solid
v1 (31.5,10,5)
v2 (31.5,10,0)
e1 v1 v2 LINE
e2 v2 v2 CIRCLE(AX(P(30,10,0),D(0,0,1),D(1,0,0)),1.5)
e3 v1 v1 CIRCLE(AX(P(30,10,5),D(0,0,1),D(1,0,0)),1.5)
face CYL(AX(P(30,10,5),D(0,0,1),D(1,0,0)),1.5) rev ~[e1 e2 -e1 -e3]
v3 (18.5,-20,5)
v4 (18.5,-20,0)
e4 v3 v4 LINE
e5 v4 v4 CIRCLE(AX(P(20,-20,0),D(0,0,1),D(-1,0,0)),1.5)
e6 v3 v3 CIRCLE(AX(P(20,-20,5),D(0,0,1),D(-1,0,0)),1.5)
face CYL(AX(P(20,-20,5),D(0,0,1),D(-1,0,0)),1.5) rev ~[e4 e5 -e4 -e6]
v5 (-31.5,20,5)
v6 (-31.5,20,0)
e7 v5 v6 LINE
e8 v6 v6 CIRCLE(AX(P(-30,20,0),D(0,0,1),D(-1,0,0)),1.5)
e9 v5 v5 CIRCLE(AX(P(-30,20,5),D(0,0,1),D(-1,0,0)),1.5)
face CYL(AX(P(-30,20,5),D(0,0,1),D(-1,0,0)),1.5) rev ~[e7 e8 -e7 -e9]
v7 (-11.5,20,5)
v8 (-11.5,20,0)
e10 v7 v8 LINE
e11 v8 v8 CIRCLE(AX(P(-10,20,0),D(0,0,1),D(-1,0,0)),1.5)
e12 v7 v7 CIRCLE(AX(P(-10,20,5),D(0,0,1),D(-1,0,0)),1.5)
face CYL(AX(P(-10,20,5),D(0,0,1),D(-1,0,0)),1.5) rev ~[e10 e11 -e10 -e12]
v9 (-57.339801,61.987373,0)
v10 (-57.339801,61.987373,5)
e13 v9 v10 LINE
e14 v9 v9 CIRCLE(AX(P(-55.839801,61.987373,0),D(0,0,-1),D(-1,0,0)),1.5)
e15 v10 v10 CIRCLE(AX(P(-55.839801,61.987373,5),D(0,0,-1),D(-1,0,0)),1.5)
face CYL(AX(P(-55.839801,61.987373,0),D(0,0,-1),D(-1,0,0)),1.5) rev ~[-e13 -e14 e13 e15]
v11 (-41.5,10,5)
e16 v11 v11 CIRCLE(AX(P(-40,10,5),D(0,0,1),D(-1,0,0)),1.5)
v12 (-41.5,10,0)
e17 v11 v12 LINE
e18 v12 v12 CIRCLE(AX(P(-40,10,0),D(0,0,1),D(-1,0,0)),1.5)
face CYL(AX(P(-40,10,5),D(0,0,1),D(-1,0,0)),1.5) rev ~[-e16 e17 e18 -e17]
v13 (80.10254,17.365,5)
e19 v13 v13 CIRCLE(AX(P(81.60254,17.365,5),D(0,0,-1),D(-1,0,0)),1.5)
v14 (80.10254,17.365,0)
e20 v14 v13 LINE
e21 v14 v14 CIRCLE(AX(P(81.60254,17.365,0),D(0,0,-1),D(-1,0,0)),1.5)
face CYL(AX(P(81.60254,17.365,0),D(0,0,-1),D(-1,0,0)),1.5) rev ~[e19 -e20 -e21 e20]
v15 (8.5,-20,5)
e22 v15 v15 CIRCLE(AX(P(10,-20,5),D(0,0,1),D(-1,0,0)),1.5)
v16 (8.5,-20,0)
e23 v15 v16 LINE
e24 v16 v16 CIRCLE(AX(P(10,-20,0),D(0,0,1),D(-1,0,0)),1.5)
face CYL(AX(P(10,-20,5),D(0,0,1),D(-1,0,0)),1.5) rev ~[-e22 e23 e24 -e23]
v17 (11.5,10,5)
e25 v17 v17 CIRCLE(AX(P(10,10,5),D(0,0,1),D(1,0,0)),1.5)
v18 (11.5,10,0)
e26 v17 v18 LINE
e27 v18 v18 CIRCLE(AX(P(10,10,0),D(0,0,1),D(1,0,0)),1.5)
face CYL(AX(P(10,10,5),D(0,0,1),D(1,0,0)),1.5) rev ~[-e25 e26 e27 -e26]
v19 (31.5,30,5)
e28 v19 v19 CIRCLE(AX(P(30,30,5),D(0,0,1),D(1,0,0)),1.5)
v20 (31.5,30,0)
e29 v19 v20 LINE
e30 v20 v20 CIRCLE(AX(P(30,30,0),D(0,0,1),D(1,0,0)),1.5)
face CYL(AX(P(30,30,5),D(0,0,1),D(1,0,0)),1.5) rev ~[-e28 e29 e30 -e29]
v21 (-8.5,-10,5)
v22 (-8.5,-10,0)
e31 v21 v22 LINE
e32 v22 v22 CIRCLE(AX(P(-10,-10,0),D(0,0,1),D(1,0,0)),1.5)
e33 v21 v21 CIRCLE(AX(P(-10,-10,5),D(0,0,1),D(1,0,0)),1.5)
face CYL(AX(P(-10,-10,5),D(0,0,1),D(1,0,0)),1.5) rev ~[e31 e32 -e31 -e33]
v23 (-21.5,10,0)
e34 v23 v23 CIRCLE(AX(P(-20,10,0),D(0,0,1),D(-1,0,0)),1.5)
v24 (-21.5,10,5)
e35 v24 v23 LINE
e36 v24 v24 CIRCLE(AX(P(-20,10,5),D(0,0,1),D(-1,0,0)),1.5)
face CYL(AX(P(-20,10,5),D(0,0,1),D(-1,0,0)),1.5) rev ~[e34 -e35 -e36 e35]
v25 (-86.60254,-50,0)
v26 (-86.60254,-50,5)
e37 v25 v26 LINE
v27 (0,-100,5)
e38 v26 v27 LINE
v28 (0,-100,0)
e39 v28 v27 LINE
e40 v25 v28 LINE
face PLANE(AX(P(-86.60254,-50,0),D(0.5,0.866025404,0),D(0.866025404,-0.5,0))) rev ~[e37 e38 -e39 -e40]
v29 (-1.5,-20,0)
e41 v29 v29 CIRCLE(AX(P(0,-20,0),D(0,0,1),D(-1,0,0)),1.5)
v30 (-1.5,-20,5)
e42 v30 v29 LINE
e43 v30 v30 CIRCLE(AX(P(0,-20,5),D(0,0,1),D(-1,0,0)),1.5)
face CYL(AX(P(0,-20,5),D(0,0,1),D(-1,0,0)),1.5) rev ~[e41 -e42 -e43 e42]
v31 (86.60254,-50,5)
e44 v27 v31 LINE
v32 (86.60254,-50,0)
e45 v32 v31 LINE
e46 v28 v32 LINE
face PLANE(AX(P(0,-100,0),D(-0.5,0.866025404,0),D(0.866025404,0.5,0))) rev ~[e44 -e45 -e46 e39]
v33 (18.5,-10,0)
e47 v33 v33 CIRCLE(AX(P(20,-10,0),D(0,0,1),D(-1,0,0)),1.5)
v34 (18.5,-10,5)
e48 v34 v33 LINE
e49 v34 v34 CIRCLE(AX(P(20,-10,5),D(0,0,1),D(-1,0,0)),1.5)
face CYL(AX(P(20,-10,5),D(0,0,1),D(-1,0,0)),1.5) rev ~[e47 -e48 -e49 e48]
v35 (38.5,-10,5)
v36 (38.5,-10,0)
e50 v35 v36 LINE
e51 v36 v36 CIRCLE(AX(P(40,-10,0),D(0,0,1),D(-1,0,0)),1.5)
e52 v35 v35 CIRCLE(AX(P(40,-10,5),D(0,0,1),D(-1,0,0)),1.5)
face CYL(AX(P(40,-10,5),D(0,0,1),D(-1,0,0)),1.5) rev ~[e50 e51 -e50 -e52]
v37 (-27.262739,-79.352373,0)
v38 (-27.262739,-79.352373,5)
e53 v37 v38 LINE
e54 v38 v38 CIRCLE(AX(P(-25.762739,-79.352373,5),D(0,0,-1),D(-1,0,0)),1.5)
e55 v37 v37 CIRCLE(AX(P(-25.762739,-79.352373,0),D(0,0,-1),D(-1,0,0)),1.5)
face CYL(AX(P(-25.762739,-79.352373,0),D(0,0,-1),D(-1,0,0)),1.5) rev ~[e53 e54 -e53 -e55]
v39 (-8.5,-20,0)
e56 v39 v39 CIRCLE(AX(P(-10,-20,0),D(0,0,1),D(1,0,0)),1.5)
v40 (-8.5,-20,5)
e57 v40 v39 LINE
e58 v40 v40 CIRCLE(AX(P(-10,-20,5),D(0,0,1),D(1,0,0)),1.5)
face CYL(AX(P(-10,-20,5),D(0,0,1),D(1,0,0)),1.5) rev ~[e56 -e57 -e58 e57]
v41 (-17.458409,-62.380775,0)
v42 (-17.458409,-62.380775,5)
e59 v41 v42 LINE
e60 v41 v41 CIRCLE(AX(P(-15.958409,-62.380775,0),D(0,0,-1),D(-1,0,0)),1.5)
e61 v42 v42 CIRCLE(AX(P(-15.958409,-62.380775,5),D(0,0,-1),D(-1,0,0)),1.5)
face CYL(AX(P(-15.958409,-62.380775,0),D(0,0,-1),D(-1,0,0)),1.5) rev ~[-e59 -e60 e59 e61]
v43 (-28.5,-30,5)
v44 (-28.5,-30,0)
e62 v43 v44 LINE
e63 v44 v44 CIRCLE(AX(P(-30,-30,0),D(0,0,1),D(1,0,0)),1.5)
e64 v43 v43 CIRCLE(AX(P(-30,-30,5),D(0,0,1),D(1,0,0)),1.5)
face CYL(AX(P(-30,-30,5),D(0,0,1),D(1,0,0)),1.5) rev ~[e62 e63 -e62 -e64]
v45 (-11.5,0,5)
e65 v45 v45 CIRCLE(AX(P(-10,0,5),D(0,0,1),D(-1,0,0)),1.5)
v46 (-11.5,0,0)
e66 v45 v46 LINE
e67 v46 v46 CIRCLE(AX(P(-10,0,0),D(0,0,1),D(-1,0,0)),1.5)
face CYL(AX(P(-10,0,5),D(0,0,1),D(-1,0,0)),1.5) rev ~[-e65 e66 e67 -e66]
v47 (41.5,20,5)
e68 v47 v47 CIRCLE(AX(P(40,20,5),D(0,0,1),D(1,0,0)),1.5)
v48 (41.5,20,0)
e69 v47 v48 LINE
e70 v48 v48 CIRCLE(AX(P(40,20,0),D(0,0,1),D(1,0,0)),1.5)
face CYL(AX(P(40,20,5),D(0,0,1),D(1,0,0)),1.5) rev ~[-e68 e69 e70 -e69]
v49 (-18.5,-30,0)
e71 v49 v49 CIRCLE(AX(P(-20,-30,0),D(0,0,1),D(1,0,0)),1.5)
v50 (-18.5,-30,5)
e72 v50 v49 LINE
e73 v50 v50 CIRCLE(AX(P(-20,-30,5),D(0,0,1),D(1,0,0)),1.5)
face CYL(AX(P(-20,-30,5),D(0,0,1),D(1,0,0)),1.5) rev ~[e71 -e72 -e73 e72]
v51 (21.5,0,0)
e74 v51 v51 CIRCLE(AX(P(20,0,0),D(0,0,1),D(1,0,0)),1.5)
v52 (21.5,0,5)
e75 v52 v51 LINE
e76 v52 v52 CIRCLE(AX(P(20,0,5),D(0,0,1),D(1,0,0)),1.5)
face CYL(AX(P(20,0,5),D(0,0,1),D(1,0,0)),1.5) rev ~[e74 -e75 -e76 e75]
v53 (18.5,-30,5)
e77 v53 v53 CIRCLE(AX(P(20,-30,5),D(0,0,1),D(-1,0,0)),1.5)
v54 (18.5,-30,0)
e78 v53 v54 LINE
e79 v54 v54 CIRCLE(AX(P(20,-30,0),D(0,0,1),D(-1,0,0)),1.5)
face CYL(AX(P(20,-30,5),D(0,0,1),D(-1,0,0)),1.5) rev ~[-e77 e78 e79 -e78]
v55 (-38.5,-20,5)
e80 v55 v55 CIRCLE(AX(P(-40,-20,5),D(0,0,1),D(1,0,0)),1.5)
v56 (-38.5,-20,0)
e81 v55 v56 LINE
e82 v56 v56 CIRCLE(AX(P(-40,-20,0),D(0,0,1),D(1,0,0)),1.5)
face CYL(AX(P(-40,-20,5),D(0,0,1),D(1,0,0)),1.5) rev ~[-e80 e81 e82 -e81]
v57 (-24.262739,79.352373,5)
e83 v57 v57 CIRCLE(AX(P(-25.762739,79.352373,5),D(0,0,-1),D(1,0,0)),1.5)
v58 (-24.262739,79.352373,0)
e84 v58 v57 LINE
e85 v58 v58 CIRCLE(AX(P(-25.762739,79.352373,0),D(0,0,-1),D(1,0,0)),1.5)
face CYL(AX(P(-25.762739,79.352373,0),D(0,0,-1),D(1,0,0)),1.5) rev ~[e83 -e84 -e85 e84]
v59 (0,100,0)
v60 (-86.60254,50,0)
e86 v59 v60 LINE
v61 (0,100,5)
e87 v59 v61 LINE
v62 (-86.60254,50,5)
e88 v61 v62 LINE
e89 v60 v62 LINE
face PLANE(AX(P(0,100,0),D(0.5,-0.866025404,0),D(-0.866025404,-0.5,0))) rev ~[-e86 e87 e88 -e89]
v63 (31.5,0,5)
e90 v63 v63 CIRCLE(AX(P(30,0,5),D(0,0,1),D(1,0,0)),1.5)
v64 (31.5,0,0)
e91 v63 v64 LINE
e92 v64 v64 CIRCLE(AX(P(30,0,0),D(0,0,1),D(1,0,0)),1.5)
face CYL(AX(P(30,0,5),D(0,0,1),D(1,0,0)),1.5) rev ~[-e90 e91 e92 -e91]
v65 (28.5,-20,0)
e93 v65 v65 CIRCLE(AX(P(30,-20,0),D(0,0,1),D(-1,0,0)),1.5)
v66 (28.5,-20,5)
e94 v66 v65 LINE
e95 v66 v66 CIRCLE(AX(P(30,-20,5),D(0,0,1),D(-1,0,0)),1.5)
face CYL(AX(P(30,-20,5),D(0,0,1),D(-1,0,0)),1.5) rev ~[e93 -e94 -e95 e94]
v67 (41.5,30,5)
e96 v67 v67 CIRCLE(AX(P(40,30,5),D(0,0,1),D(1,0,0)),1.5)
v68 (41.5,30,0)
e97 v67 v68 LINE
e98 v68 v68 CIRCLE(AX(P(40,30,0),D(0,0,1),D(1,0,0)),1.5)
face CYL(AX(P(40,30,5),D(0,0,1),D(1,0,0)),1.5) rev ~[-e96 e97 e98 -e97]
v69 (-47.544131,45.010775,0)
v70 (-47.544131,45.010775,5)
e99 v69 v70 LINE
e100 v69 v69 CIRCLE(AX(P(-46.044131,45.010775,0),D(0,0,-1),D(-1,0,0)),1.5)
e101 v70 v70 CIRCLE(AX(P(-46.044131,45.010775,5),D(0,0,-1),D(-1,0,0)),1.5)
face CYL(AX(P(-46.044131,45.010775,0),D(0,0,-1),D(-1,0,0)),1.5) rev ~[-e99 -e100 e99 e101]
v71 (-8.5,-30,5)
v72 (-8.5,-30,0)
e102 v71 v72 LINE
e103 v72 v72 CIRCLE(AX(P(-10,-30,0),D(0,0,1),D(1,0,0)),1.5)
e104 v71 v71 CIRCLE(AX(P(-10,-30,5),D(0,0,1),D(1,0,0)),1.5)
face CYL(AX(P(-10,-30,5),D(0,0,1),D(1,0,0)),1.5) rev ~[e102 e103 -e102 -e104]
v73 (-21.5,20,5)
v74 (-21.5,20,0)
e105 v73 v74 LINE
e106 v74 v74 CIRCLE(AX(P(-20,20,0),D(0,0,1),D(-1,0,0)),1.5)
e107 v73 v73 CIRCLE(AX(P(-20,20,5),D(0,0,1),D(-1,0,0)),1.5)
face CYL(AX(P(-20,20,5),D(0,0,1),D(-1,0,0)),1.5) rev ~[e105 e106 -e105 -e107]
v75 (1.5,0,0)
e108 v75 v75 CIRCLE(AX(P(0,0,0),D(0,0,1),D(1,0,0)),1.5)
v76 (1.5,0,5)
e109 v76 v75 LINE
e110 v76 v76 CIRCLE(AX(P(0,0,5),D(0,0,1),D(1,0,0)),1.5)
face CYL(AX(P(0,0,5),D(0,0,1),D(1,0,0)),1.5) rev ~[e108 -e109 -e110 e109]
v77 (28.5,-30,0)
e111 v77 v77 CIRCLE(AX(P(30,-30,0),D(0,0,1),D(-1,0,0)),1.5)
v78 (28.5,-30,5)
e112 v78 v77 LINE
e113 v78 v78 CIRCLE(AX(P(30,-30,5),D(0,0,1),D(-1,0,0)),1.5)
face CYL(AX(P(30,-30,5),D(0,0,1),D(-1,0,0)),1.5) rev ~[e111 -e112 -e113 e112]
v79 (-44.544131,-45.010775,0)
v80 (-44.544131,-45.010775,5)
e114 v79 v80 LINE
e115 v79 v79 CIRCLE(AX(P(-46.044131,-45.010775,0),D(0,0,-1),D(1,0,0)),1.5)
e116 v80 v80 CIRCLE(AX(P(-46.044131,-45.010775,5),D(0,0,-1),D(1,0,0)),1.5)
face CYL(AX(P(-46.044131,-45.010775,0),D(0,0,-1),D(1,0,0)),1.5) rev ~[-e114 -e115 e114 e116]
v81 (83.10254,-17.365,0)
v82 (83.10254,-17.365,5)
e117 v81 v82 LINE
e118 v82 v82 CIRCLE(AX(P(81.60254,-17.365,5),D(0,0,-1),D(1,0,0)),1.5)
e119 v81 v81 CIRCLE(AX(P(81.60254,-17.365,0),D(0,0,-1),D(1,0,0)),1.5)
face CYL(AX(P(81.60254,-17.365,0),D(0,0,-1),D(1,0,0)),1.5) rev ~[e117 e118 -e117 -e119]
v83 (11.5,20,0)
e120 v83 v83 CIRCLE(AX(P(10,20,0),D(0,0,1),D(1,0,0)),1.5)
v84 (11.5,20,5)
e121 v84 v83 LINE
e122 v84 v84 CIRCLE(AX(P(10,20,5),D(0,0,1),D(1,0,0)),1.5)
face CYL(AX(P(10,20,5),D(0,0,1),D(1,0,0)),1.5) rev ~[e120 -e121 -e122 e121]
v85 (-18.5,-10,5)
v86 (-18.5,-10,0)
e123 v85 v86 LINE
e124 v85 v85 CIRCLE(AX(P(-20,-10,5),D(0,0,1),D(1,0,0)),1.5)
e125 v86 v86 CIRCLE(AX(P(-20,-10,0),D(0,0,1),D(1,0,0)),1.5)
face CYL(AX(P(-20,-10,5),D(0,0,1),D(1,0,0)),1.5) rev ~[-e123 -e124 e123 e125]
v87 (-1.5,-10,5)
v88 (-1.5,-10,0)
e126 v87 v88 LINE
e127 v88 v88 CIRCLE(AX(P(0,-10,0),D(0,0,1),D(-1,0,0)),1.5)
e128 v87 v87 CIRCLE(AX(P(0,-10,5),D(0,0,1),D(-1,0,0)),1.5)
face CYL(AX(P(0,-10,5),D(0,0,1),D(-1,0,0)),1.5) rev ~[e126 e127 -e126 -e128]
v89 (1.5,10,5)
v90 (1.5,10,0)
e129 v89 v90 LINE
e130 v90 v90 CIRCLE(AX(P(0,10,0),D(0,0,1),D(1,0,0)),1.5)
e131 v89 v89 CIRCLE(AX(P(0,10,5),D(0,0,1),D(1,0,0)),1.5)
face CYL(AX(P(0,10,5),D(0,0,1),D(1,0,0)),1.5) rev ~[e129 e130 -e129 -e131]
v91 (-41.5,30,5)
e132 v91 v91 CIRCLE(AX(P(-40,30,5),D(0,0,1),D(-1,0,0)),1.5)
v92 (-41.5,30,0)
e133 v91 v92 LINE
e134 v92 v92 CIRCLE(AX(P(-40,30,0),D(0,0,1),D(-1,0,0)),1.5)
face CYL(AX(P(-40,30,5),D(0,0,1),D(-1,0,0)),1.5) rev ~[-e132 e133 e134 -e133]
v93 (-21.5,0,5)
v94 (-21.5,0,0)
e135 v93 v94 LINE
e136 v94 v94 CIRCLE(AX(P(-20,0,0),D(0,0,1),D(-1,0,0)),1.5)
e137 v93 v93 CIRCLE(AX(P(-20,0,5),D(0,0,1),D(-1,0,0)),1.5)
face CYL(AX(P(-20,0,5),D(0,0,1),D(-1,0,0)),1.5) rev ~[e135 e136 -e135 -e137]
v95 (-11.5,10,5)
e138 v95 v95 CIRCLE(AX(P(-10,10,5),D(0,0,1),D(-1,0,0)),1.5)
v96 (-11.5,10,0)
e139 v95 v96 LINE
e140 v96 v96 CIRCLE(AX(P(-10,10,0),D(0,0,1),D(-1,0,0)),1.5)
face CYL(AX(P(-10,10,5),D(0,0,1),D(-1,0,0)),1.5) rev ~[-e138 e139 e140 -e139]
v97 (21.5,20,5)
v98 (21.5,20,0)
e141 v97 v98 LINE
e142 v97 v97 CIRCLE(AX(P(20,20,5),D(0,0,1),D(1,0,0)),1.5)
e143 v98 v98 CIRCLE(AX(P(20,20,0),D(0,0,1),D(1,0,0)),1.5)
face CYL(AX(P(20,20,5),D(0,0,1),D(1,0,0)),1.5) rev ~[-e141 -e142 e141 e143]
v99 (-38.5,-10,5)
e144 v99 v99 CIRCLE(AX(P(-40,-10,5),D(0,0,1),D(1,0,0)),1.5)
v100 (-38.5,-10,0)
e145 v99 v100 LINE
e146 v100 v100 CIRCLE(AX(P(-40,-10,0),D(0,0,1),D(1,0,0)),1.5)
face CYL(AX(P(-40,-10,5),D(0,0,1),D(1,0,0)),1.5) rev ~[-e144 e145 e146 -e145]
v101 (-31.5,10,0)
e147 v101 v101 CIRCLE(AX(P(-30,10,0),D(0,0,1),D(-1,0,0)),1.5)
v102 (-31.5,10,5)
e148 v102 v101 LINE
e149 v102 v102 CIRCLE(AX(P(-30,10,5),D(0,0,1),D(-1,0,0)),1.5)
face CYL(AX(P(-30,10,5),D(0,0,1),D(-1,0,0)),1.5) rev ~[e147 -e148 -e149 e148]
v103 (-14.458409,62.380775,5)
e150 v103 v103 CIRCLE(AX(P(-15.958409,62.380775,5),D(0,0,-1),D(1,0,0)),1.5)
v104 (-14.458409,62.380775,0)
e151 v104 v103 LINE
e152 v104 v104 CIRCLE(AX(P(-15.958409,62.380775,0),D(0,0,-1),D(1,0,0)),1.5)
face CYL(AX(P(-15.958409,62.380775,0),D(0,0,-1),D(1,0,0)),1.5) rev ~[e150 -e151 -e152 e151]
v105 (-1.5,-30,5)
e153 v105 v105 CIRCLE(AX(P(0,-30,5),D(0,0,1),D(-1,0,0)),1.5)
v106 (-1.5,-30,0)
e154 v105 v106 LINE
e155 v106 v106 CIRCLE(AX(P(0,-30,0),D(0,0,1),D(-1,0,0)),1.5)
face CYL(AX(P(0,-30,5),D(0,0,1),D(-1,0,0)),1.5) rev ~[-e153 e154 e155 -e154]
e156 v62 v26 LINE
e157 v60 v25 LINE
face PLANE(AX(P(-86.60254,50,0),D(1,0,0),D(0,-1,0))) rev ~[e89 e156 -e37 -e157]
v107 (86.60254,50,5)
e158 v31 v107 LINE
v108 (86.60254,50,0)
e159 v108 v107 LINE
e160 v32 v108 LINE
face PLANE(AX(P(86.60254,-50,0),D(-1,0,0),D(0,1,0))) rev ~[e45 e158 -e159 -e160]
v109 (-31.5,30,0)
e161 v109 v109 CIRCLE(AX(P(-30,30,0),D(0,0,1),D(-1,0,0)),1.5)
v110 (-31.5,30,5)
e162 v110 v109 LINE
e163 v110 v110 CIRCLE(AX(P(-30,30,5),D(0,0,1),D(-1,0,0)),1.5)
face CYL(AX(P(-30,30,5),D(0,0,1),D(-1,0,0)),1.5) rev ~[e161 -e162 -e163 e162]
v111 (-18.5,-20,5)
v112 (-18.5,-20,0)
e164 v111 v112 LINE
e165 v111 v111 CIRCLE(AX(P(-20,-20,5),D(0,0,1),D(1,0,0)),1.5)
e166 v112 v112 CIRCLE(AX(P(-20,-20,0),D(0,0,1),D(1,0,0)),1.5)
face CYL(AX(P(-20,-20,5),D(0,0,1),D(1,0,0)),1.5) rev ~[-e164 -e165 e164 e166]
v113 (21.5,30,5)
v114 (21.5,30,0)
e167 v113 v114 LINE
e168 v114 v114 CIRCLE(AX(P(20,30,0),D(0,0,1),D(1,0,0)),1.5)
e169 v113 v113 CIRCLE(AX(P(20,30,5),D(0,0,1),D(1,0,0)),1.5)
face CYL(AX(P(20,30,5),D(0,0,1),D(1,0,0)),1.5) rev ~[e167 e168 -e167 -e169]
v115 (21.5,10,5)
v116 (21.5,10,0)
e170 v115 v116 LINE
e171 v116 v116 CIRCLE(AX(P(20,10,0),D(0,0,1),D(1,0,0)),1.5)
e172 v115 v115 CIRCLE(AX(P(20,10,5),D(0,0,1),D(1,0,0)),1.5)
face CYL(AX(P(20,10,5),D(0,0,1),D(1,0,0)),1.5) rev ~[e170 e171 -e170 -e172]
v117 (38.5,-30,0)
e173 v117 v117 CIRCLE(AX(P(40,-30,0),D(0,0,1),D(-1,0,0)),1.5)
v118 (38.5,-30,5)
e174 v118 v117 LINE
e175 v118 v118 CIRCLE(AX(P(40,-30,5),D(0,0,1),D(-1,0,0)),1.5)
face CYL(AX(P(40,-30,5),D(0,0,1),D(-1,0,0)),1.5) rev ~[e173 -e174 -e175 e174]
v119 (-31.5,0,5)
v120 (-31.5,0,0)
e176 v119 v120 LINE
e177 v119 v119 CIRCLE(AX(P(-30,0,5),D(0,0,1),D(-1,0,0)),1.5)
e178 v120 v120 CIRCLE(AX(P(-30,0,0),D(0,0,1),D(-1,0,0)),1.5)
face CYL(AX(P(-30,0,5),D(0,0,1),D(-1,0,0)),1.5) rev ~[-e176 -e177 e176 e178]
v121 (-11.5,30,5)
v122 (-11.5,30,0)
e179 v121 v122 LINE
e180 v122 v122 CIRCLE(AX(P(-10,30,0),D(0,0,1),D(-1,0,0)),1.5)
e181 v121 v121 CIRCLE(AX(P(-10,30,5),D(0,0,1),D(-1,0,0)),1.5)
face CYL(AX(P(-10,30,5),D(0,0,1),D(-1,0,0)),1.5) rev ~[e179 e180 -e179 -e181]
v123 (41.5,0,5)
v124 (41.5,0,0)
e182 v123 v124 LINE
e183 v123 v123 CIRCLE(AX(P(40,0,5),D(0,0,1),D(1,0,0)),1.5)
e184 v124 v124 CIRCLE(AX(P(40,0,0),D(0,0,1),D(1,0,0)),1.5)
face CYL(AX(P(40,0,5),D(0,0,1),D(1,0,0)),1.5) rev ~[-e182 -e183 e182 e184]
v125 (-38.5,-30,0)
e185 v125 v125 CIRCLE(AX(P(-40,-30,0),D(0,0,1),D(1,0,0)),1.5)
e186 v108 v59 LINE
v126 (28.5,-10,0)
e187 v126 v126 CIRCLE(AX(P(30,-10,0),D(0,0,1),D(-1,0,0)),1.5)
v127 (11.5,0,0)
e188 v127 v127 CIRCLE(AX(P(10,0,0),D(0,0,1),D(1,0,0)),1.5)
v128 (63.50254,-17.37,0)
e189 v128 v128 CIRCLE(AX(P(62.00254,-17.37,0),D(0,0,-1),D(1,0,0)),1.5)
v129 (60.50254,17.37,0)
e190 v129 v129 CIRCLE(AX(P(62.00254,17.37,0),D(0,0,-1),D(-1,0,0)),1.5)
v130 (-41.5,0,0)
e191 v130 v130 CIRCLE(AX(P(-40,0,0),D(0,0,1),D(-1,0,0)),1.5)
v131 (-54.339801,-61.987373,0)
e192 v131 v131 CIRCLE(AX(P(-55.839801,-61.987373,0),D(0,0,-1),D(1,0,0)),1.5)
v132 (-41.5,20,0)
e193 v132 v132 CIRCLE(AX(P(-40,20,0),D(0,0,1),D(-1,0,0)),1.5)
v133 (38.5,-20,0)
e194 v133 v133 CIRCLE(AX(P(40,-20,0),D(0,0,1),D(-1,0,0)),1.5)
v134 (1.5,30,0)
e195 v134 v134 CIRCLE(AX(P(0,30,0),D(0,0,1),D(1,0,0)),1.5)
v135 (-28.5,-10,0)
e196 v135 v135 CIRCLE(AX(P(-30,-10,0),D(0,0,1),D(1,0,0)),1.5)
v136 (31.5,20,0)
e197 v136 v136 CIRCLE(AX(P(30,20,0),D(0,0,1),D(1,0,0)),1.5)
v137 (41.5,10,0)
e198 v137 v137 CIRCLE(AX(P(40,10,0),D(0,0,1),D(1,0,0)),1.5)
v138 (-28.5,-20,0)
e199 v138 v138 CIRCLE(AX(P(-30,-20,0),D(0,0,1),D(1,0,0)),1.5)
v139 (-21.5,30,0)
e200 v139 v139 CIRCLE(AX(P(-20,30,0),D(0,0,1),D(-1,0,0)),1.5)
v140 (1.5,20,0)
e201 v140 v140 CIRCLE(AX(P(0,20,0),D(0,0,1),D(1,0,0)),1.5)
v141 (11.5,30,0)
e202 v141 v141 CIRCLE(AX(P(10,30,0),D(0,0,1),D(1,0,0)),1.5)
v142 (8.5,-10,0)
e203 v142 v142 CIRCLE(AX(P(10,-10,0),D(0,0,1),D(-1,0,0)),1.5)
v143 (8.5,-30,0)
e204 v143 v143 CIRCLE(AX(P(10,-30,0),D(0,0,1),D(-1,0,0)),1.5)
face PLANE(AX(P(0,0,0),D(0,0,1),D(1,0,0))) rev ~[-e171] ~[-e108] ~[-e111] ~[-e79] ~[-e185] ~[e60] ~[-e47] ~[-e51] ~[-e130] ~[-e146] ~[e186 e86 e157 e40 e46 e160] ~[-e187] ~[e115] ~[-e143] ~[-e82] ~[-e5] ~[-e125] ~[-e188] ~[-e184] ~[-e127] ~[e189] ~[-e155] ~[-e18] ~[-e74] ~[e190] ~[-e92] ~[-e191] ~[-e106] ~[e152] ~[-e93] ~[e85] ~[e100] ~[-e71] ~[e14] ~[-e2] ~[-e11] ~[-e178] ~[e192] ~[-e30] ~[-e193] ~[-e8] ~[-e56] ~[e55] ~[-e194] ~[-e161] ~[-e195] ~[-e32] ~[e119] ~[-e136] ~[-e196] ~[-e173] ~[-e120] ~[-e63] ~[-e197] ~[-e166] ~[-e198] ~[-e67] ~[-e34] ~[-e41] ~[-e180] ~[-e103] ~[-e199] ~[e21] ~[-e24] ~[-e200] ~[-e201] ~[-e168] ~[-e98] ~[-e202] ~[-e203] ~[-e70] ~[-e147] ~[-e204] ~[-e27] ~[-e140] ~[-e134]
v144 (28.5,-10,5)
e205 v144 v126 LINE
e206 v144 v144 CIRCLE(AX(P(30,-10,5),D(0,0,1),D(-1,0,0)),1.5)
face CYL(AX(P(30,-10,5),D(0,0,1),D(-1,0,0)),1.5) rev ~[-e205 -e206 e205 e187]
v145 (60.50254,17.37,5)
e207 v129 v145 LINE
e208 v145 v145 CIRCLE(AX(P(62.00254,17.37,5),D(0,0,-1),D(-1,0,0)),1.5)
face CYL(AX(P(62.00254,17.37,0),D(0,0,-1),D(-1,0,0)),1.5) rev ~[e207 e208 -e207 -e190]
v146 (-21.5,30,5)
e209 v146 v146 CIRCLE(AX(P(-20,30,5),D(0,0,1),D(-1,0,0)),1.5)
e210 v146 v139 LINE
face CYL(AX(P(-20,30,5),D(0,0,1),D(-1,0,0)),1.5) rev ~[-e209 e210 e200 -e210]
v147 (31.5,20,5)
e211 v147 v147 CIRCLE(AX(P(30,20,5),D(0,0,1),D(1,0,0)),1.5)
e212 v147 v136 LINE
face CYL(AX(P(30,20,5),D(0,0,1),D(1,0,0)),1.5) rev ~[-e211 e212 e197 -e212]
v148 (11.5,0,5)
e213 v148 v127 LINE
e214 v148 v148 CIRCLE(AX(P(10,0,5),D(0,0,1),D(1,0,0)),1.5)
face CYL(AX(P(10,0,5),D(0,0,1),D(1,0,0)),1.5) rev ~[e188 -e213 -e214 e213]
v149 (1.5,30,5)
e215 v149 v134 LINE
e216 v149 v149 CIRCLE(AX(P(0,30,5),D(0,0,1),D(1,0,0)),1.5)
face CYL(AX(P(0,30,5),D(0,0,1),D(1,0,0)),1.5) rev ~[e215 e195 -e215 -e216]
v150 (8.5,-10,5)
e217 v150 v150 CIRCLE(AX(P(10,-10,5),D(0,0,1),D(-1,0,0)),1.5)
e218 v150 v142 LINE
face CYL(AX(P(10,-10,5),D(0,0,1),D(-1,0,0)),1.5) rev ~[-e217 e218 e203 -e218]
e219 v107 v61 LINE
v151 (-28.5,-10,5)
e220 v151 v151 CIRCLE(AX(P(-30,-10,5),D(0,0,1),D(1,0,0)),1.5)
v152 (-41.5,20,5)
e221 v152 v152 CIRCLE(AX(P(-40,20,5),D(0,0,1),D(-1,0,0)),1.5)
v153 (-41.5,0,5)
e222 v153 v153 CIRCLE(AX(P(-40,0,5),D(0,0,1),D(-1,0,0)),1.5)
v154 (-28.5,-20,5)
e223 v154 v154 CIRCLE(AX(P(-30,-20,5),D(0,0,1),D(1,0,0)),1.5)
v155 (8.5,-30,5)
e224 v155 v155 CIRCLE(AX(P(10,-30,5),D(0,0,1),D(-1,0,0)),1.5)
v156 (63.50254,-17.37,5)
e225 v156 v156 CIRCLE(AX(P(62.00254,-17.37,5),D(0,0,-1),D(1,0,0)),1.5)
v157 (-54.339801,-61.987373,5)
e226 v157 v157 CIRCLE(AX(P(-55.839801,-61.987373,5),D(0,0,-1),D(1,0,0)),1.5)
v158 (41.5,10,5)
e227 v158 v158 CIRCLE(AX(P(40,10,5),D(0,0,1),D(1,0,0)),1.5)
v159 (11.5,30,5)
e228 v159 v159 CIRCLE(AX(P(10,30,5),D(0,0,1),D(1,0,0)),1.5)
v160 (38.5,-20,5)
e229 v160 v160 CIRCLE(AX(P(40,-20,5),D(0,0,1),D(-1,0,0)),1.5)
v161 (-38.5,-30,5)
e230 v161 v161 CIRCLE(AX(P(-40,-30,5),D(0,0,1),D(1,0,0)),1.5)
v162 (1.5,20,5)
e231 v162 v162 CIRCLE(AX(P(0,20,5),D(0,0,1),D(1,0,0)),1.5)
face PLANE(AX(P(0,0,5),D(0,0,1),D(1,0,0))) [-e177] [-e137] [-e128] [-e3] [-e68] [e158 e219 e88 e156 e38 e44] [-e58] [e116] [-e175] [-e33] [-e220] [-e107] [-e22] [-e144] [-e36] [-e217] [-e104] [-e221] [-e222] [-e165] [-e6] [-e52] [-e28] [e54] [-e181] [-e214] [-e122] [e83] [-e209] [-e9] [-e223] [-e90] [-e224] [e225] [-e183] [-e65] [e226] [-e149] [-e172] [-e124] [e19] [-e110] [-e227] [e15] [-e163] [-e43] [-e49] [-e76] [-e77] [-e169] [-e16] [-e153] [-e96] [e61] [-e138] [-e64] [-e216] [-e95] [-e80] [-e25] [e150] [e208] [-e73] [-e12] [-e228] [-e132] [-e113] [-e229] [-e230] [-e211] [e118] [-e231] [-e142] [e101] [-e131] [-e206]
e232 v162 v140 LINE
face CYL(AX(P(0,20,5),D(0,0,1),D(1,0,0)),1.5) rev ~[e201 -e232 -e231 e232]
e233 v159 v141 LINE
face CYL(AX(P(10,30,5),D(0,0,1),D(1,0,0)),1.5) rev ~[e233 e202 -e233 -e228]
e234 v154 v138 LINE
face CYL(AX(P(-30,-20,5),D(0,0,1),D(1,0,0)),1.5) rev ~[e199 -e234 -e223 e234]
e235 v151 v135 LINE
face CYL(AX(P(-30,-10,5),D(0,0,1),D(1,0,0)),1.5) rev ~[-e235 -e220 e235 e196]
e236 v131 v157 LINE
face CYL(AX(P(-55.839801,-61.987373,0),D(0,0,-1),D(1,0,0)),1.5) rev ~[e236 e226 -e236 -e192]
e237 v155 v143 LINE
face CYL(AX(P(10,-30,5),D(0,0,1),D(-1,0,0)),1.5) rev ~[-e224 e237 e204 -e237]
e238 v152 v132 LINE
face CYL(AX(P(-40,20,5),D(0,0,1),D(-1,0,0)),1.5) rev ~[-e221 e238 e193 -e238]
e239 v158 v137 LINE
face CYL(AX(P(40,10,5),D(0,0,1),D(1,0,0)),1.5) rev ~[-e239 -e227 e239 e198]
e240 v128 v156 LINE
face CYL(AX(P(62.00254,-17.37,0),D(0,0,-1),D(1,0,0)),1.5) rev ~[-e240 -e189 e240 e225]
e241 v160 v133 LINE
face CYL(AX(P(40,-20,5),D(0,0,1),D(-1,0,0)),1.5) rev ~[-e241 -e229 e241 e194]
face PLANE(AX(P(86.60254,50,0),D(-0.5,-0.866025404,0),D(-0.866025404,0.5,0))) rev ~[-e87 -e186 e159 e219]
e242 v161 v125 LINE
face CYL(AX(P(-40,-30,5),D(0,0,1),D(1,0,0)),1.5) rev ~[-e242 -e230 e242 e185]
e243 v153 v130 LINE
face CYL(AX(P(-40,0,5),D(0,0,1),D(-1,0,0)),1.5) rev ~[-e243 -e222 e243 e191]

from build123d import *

# Parameters (mm, degrees)
EXTRUDE_1_DEPTH     = 5
SKETCH_2_R          = 1.5
CUT_EXTRUDE_1_DEPTH = 5
SKETCH_3_R          = 1.5
CUT_EXTRUDE_2_DEPTH = 133.382022949


with BuildPart() as part:
    # 草图1 → 凸台-拉伸1 (new body)
    with BuildSketch(Plane.XY):
        Polygon((86.602540378, 50), (0, 100), (-86.602540378, 50), (-86.602540378, -50), (0, -100), (86.602540378, -50), align=None)
    extrude(amount=EXTRUDE_1_DEPTH)

    # 草图2 → 切除-拉伸1 (cut)
    with BuildSketch(Plane(origin=(0, 0, 0), x_dir=(-1, 0, 0), z_dir=(0, 0, -1))):
        with Locations((-81.602540378, 17.365)):
            Circle(SKETCH_2_R)
        with Locations((-62.002540378, 17.37)):
            Circle(SKETCH_2_R)
        with Locations(Location((-62.002540378, -17.37, 0), (0, 0, 180))):
            Circle(SKETCH_2_R)
        with Locations(Location((-81.602540378, -17.365, 0), (0, 0, 180))):
            Circle(SKETCH_2_R)
        with Locations((55.839801326, 61.987372981)):
            Circle(SKETCH_2_R)
        with Locations((46.044131453, 45.010775067)):
            Circle(SKETCH_2_R)
        with Locations(Location((15.958408925, 62.380775067, 0), (0, 0, 180))):
            Circle(SKETCH_2_R)
        with Locations(Location((25.762739053, 79.352372981, 0), (0, 0, 180))):
            Circle(SKETCH_2_R)
        with Locations((25.762739053, -79.352372981)):
            Circle(SKETCH_2_R)
        with Locations((15.958408925, -62.380775067)):
            Circle(SKETCH_2_R)
        with Locations(Location((46.044131453, -45.010775067, 0), (0, 0, 180))):
            Circle(SKETCH_2_R)
        with Locations(Location((55.839801326, -61.987372981, 0), (0, 0, 180))):
            Circle(SKETCH_2_R)
    extrude(amount=-CUT_EXTRUDE_1_DEPTH, mode=Mode.SUBTRACT)

    # 草图3 → 切除-拉伸2 (cut, through all)
    with BuildSketch(Plane.XY.offset(5)):
        Circle(SKETCH_3_R)
        with Locations((10, 0)):
            Circle(SKETCH_3_R)
        with Locations((20, 0)):
            Circle(SKETCH_3_R)
        with Locations((30, 0)):
            Circle(SKETCH_3_R)
        with Locations((40, 0)):
            Circle(SKETCH_3_R)
        with Locations((10, 10)):
            Circle(SKETCH_3_R)
        with Locations((20, 10)):
            Circle(SKETCH_3_R)
        with Locations((30, 10)):
            Circle(SKETCH_3_R)
        with Locations((40, 10)):
            Circle(SKETCH_3_R)
        with Locations((10, 20)):
            Circle(SKETCH_3_R)
        with Locations((20, 20)):
            Circle(SKETCH_3_R)
        with Locations((30, 20)):
            Circle(SKETCH_3_R)
        with Locations((40, 20)):
            Circle(SKETCH_3_R)
        with Locations((10, 30)):
            Circle(SKETCH_3_R)
        with Locations((20, 30)):
            Circle(SKETCH_3_R)
        with Locations((30, 30)):
            Circle(SKETCH_3_R)
        with Locations((40, 30)):
            Circle(SKETCH_3_R)
        with Locations((0, 10)):
            Circle(SKETCH_3_R)
        with Locations((0, 20)):
            Circle(SKETCH_3_R)
        with Locations((0, 30)):
            Circle(SKETCH_3_R)
        with Locations(Location((0, -30, 0), (0, 0, 180))):
            Circle(SKETCH_3_R)
        with Locations(Location((0, -20, 0), (0, 0, 180))):
            Circle(SKETCH_3_R)
        with Locations(Location((0, -10, 0), (0, 0, 180))):
            Circle(SKETCH_3_R)
        with Locations(Location((40, -30, 0), (0, 0, 180))):
            Circle(SKETCH_3_R)
        with Locations(Location((30, -30, 0), (0, 0, 180))):
            Circle(SKETCH_3_R)
        with Locations(Location((20, -30, 0), (0, 0, 180))):
            Circle(SKETCH_3_R)
        with Locations(Location((10, -30, 0), (0, 0, 180))):
            Circle(SKETCH_3_R)
        with Locations(Location((40, -20, 0), (0, 0, 180))):
            Circle(SKETCH_3_R)
        with Locations(Location((30, -20, 0), (0, 0, 180))):
            Circle(SKETCH_3_R)
        with Locations(Location((20, -20, 0), (0, 0, 180))):
            Circle(SKETCH_3_R)
        with Locations(Location((10, -20, 0), (0, 0, 180))):
            Circle(SKETCH_3_R)
        with Locations(Location((40, -10, 0), (0, 0, 180))):
            Circle(SKETCH_3_R)
        with Locations(Location((30, -10, 0), (0, 0, 180))):
            Circle(SKETCH_3_R)
        with Locations(Location((20, -10, 0), (0, 0, 180))):
            Circle(SKETCH_3_R)
        with Locations(Location((10, -10, 0), (0, 0, 180))):
            Circle(SKETCH_3_R)
        with Locations((-10, -10)):
            Circle(SKETCH_3_R)
        with Locations((-20, -10)):
            Circle(SKETCH_3_R)
        with Locations((-30, -10)):
            Circle(SKETCH_3_R)
        with Locations((-40, -10)):
            Circle(SKETCH_3_R)
        with Locations((-10, -20)):
            Circle(SKETCH_3_R)
        with Locations((-20, -20)):
            Circle(SKETCH_3_R)
        with Locations((-30, -20)):
            Circle(SKETCH_3_R)
        with Locations((-40, -20)):
            Circle(SKETCH_3_R)
        with Locations((-10, -30)):
            Circle(SKETCH_3_R)
        with Locations((-20, -30)):
            Circle(SKETCH_3_R)
        with Locations((-30, -30)):
            Circle(SKETCH_3_R)
        with Locations((-40, -30)):
            Circle(SKETCH_3_R)
        with Locations(Location((-40, 30, 0), (0, 0, 180))):
            Circle(SKETCH_3_R)
        with Locations(Location((-30, 30, 0), (0, 0, 180))):
            Circle(SKETCH_3_R)
        with Locations(Location((-20, 30, 0), (0, 0, 180))):
            Circle(SKETCH_3_R)
        with Locations(Location((-10, 30, 0), (0, 0, 180))):
            Circle(SKETCH_3_R)
        with Locations(Location((-40, 20, 0), (0, 0, 180))):
            Circle(SKETCH_3_R)
        with Locations(Location((-30, 20, 0), (0, 0, 180))):
            Circle(SKETCH_3_R)
        with Locations(Location((-20, 20, 0), (0, 0, 180))):
            Circle(SKETCH_3_R)
        with Locations(Location((-10, 20, 0), (0, 0, 180))):
            Circle(SKETCH_3_R)
        with Locations(Location((-40, 10, 0), (0, 0, 180))):
            Circle(SKETCH_3_R)
        with Locations(Location((-30, 10, 0), (0, 0, 180))):
            Circle(SKETCH_3_R)
        with Locations(Location((-20, 10, 0), (0, 0, 180))):
            Circle(SKETCH_3_R)
        with Locations(Location((-10, 10, 0), (0, 0, 180))):
            Circle(SKETCH_3_R)
        with Locations(Location((-40, 0, 0), (0, 0, 180))):
            Circle(SKETCH_3_R)
        with Locations(Location((-30, 0, 0), (0, 0, 180))):
            Circle(SKETCH_3_R)
        with Locations(Location((-20, 0, 0), (0, 0, 180))):
            Circle(SKETCH_3_R)
        with Locations(Location((-10, 0, 0), (0, 0, 180))):
            Circle(SKETCH_3_R)
    extrude(amount=-CUT_EXTRUDE_2_DEPTH, mode=Mode.SUBTRACT)


solid = part.part
